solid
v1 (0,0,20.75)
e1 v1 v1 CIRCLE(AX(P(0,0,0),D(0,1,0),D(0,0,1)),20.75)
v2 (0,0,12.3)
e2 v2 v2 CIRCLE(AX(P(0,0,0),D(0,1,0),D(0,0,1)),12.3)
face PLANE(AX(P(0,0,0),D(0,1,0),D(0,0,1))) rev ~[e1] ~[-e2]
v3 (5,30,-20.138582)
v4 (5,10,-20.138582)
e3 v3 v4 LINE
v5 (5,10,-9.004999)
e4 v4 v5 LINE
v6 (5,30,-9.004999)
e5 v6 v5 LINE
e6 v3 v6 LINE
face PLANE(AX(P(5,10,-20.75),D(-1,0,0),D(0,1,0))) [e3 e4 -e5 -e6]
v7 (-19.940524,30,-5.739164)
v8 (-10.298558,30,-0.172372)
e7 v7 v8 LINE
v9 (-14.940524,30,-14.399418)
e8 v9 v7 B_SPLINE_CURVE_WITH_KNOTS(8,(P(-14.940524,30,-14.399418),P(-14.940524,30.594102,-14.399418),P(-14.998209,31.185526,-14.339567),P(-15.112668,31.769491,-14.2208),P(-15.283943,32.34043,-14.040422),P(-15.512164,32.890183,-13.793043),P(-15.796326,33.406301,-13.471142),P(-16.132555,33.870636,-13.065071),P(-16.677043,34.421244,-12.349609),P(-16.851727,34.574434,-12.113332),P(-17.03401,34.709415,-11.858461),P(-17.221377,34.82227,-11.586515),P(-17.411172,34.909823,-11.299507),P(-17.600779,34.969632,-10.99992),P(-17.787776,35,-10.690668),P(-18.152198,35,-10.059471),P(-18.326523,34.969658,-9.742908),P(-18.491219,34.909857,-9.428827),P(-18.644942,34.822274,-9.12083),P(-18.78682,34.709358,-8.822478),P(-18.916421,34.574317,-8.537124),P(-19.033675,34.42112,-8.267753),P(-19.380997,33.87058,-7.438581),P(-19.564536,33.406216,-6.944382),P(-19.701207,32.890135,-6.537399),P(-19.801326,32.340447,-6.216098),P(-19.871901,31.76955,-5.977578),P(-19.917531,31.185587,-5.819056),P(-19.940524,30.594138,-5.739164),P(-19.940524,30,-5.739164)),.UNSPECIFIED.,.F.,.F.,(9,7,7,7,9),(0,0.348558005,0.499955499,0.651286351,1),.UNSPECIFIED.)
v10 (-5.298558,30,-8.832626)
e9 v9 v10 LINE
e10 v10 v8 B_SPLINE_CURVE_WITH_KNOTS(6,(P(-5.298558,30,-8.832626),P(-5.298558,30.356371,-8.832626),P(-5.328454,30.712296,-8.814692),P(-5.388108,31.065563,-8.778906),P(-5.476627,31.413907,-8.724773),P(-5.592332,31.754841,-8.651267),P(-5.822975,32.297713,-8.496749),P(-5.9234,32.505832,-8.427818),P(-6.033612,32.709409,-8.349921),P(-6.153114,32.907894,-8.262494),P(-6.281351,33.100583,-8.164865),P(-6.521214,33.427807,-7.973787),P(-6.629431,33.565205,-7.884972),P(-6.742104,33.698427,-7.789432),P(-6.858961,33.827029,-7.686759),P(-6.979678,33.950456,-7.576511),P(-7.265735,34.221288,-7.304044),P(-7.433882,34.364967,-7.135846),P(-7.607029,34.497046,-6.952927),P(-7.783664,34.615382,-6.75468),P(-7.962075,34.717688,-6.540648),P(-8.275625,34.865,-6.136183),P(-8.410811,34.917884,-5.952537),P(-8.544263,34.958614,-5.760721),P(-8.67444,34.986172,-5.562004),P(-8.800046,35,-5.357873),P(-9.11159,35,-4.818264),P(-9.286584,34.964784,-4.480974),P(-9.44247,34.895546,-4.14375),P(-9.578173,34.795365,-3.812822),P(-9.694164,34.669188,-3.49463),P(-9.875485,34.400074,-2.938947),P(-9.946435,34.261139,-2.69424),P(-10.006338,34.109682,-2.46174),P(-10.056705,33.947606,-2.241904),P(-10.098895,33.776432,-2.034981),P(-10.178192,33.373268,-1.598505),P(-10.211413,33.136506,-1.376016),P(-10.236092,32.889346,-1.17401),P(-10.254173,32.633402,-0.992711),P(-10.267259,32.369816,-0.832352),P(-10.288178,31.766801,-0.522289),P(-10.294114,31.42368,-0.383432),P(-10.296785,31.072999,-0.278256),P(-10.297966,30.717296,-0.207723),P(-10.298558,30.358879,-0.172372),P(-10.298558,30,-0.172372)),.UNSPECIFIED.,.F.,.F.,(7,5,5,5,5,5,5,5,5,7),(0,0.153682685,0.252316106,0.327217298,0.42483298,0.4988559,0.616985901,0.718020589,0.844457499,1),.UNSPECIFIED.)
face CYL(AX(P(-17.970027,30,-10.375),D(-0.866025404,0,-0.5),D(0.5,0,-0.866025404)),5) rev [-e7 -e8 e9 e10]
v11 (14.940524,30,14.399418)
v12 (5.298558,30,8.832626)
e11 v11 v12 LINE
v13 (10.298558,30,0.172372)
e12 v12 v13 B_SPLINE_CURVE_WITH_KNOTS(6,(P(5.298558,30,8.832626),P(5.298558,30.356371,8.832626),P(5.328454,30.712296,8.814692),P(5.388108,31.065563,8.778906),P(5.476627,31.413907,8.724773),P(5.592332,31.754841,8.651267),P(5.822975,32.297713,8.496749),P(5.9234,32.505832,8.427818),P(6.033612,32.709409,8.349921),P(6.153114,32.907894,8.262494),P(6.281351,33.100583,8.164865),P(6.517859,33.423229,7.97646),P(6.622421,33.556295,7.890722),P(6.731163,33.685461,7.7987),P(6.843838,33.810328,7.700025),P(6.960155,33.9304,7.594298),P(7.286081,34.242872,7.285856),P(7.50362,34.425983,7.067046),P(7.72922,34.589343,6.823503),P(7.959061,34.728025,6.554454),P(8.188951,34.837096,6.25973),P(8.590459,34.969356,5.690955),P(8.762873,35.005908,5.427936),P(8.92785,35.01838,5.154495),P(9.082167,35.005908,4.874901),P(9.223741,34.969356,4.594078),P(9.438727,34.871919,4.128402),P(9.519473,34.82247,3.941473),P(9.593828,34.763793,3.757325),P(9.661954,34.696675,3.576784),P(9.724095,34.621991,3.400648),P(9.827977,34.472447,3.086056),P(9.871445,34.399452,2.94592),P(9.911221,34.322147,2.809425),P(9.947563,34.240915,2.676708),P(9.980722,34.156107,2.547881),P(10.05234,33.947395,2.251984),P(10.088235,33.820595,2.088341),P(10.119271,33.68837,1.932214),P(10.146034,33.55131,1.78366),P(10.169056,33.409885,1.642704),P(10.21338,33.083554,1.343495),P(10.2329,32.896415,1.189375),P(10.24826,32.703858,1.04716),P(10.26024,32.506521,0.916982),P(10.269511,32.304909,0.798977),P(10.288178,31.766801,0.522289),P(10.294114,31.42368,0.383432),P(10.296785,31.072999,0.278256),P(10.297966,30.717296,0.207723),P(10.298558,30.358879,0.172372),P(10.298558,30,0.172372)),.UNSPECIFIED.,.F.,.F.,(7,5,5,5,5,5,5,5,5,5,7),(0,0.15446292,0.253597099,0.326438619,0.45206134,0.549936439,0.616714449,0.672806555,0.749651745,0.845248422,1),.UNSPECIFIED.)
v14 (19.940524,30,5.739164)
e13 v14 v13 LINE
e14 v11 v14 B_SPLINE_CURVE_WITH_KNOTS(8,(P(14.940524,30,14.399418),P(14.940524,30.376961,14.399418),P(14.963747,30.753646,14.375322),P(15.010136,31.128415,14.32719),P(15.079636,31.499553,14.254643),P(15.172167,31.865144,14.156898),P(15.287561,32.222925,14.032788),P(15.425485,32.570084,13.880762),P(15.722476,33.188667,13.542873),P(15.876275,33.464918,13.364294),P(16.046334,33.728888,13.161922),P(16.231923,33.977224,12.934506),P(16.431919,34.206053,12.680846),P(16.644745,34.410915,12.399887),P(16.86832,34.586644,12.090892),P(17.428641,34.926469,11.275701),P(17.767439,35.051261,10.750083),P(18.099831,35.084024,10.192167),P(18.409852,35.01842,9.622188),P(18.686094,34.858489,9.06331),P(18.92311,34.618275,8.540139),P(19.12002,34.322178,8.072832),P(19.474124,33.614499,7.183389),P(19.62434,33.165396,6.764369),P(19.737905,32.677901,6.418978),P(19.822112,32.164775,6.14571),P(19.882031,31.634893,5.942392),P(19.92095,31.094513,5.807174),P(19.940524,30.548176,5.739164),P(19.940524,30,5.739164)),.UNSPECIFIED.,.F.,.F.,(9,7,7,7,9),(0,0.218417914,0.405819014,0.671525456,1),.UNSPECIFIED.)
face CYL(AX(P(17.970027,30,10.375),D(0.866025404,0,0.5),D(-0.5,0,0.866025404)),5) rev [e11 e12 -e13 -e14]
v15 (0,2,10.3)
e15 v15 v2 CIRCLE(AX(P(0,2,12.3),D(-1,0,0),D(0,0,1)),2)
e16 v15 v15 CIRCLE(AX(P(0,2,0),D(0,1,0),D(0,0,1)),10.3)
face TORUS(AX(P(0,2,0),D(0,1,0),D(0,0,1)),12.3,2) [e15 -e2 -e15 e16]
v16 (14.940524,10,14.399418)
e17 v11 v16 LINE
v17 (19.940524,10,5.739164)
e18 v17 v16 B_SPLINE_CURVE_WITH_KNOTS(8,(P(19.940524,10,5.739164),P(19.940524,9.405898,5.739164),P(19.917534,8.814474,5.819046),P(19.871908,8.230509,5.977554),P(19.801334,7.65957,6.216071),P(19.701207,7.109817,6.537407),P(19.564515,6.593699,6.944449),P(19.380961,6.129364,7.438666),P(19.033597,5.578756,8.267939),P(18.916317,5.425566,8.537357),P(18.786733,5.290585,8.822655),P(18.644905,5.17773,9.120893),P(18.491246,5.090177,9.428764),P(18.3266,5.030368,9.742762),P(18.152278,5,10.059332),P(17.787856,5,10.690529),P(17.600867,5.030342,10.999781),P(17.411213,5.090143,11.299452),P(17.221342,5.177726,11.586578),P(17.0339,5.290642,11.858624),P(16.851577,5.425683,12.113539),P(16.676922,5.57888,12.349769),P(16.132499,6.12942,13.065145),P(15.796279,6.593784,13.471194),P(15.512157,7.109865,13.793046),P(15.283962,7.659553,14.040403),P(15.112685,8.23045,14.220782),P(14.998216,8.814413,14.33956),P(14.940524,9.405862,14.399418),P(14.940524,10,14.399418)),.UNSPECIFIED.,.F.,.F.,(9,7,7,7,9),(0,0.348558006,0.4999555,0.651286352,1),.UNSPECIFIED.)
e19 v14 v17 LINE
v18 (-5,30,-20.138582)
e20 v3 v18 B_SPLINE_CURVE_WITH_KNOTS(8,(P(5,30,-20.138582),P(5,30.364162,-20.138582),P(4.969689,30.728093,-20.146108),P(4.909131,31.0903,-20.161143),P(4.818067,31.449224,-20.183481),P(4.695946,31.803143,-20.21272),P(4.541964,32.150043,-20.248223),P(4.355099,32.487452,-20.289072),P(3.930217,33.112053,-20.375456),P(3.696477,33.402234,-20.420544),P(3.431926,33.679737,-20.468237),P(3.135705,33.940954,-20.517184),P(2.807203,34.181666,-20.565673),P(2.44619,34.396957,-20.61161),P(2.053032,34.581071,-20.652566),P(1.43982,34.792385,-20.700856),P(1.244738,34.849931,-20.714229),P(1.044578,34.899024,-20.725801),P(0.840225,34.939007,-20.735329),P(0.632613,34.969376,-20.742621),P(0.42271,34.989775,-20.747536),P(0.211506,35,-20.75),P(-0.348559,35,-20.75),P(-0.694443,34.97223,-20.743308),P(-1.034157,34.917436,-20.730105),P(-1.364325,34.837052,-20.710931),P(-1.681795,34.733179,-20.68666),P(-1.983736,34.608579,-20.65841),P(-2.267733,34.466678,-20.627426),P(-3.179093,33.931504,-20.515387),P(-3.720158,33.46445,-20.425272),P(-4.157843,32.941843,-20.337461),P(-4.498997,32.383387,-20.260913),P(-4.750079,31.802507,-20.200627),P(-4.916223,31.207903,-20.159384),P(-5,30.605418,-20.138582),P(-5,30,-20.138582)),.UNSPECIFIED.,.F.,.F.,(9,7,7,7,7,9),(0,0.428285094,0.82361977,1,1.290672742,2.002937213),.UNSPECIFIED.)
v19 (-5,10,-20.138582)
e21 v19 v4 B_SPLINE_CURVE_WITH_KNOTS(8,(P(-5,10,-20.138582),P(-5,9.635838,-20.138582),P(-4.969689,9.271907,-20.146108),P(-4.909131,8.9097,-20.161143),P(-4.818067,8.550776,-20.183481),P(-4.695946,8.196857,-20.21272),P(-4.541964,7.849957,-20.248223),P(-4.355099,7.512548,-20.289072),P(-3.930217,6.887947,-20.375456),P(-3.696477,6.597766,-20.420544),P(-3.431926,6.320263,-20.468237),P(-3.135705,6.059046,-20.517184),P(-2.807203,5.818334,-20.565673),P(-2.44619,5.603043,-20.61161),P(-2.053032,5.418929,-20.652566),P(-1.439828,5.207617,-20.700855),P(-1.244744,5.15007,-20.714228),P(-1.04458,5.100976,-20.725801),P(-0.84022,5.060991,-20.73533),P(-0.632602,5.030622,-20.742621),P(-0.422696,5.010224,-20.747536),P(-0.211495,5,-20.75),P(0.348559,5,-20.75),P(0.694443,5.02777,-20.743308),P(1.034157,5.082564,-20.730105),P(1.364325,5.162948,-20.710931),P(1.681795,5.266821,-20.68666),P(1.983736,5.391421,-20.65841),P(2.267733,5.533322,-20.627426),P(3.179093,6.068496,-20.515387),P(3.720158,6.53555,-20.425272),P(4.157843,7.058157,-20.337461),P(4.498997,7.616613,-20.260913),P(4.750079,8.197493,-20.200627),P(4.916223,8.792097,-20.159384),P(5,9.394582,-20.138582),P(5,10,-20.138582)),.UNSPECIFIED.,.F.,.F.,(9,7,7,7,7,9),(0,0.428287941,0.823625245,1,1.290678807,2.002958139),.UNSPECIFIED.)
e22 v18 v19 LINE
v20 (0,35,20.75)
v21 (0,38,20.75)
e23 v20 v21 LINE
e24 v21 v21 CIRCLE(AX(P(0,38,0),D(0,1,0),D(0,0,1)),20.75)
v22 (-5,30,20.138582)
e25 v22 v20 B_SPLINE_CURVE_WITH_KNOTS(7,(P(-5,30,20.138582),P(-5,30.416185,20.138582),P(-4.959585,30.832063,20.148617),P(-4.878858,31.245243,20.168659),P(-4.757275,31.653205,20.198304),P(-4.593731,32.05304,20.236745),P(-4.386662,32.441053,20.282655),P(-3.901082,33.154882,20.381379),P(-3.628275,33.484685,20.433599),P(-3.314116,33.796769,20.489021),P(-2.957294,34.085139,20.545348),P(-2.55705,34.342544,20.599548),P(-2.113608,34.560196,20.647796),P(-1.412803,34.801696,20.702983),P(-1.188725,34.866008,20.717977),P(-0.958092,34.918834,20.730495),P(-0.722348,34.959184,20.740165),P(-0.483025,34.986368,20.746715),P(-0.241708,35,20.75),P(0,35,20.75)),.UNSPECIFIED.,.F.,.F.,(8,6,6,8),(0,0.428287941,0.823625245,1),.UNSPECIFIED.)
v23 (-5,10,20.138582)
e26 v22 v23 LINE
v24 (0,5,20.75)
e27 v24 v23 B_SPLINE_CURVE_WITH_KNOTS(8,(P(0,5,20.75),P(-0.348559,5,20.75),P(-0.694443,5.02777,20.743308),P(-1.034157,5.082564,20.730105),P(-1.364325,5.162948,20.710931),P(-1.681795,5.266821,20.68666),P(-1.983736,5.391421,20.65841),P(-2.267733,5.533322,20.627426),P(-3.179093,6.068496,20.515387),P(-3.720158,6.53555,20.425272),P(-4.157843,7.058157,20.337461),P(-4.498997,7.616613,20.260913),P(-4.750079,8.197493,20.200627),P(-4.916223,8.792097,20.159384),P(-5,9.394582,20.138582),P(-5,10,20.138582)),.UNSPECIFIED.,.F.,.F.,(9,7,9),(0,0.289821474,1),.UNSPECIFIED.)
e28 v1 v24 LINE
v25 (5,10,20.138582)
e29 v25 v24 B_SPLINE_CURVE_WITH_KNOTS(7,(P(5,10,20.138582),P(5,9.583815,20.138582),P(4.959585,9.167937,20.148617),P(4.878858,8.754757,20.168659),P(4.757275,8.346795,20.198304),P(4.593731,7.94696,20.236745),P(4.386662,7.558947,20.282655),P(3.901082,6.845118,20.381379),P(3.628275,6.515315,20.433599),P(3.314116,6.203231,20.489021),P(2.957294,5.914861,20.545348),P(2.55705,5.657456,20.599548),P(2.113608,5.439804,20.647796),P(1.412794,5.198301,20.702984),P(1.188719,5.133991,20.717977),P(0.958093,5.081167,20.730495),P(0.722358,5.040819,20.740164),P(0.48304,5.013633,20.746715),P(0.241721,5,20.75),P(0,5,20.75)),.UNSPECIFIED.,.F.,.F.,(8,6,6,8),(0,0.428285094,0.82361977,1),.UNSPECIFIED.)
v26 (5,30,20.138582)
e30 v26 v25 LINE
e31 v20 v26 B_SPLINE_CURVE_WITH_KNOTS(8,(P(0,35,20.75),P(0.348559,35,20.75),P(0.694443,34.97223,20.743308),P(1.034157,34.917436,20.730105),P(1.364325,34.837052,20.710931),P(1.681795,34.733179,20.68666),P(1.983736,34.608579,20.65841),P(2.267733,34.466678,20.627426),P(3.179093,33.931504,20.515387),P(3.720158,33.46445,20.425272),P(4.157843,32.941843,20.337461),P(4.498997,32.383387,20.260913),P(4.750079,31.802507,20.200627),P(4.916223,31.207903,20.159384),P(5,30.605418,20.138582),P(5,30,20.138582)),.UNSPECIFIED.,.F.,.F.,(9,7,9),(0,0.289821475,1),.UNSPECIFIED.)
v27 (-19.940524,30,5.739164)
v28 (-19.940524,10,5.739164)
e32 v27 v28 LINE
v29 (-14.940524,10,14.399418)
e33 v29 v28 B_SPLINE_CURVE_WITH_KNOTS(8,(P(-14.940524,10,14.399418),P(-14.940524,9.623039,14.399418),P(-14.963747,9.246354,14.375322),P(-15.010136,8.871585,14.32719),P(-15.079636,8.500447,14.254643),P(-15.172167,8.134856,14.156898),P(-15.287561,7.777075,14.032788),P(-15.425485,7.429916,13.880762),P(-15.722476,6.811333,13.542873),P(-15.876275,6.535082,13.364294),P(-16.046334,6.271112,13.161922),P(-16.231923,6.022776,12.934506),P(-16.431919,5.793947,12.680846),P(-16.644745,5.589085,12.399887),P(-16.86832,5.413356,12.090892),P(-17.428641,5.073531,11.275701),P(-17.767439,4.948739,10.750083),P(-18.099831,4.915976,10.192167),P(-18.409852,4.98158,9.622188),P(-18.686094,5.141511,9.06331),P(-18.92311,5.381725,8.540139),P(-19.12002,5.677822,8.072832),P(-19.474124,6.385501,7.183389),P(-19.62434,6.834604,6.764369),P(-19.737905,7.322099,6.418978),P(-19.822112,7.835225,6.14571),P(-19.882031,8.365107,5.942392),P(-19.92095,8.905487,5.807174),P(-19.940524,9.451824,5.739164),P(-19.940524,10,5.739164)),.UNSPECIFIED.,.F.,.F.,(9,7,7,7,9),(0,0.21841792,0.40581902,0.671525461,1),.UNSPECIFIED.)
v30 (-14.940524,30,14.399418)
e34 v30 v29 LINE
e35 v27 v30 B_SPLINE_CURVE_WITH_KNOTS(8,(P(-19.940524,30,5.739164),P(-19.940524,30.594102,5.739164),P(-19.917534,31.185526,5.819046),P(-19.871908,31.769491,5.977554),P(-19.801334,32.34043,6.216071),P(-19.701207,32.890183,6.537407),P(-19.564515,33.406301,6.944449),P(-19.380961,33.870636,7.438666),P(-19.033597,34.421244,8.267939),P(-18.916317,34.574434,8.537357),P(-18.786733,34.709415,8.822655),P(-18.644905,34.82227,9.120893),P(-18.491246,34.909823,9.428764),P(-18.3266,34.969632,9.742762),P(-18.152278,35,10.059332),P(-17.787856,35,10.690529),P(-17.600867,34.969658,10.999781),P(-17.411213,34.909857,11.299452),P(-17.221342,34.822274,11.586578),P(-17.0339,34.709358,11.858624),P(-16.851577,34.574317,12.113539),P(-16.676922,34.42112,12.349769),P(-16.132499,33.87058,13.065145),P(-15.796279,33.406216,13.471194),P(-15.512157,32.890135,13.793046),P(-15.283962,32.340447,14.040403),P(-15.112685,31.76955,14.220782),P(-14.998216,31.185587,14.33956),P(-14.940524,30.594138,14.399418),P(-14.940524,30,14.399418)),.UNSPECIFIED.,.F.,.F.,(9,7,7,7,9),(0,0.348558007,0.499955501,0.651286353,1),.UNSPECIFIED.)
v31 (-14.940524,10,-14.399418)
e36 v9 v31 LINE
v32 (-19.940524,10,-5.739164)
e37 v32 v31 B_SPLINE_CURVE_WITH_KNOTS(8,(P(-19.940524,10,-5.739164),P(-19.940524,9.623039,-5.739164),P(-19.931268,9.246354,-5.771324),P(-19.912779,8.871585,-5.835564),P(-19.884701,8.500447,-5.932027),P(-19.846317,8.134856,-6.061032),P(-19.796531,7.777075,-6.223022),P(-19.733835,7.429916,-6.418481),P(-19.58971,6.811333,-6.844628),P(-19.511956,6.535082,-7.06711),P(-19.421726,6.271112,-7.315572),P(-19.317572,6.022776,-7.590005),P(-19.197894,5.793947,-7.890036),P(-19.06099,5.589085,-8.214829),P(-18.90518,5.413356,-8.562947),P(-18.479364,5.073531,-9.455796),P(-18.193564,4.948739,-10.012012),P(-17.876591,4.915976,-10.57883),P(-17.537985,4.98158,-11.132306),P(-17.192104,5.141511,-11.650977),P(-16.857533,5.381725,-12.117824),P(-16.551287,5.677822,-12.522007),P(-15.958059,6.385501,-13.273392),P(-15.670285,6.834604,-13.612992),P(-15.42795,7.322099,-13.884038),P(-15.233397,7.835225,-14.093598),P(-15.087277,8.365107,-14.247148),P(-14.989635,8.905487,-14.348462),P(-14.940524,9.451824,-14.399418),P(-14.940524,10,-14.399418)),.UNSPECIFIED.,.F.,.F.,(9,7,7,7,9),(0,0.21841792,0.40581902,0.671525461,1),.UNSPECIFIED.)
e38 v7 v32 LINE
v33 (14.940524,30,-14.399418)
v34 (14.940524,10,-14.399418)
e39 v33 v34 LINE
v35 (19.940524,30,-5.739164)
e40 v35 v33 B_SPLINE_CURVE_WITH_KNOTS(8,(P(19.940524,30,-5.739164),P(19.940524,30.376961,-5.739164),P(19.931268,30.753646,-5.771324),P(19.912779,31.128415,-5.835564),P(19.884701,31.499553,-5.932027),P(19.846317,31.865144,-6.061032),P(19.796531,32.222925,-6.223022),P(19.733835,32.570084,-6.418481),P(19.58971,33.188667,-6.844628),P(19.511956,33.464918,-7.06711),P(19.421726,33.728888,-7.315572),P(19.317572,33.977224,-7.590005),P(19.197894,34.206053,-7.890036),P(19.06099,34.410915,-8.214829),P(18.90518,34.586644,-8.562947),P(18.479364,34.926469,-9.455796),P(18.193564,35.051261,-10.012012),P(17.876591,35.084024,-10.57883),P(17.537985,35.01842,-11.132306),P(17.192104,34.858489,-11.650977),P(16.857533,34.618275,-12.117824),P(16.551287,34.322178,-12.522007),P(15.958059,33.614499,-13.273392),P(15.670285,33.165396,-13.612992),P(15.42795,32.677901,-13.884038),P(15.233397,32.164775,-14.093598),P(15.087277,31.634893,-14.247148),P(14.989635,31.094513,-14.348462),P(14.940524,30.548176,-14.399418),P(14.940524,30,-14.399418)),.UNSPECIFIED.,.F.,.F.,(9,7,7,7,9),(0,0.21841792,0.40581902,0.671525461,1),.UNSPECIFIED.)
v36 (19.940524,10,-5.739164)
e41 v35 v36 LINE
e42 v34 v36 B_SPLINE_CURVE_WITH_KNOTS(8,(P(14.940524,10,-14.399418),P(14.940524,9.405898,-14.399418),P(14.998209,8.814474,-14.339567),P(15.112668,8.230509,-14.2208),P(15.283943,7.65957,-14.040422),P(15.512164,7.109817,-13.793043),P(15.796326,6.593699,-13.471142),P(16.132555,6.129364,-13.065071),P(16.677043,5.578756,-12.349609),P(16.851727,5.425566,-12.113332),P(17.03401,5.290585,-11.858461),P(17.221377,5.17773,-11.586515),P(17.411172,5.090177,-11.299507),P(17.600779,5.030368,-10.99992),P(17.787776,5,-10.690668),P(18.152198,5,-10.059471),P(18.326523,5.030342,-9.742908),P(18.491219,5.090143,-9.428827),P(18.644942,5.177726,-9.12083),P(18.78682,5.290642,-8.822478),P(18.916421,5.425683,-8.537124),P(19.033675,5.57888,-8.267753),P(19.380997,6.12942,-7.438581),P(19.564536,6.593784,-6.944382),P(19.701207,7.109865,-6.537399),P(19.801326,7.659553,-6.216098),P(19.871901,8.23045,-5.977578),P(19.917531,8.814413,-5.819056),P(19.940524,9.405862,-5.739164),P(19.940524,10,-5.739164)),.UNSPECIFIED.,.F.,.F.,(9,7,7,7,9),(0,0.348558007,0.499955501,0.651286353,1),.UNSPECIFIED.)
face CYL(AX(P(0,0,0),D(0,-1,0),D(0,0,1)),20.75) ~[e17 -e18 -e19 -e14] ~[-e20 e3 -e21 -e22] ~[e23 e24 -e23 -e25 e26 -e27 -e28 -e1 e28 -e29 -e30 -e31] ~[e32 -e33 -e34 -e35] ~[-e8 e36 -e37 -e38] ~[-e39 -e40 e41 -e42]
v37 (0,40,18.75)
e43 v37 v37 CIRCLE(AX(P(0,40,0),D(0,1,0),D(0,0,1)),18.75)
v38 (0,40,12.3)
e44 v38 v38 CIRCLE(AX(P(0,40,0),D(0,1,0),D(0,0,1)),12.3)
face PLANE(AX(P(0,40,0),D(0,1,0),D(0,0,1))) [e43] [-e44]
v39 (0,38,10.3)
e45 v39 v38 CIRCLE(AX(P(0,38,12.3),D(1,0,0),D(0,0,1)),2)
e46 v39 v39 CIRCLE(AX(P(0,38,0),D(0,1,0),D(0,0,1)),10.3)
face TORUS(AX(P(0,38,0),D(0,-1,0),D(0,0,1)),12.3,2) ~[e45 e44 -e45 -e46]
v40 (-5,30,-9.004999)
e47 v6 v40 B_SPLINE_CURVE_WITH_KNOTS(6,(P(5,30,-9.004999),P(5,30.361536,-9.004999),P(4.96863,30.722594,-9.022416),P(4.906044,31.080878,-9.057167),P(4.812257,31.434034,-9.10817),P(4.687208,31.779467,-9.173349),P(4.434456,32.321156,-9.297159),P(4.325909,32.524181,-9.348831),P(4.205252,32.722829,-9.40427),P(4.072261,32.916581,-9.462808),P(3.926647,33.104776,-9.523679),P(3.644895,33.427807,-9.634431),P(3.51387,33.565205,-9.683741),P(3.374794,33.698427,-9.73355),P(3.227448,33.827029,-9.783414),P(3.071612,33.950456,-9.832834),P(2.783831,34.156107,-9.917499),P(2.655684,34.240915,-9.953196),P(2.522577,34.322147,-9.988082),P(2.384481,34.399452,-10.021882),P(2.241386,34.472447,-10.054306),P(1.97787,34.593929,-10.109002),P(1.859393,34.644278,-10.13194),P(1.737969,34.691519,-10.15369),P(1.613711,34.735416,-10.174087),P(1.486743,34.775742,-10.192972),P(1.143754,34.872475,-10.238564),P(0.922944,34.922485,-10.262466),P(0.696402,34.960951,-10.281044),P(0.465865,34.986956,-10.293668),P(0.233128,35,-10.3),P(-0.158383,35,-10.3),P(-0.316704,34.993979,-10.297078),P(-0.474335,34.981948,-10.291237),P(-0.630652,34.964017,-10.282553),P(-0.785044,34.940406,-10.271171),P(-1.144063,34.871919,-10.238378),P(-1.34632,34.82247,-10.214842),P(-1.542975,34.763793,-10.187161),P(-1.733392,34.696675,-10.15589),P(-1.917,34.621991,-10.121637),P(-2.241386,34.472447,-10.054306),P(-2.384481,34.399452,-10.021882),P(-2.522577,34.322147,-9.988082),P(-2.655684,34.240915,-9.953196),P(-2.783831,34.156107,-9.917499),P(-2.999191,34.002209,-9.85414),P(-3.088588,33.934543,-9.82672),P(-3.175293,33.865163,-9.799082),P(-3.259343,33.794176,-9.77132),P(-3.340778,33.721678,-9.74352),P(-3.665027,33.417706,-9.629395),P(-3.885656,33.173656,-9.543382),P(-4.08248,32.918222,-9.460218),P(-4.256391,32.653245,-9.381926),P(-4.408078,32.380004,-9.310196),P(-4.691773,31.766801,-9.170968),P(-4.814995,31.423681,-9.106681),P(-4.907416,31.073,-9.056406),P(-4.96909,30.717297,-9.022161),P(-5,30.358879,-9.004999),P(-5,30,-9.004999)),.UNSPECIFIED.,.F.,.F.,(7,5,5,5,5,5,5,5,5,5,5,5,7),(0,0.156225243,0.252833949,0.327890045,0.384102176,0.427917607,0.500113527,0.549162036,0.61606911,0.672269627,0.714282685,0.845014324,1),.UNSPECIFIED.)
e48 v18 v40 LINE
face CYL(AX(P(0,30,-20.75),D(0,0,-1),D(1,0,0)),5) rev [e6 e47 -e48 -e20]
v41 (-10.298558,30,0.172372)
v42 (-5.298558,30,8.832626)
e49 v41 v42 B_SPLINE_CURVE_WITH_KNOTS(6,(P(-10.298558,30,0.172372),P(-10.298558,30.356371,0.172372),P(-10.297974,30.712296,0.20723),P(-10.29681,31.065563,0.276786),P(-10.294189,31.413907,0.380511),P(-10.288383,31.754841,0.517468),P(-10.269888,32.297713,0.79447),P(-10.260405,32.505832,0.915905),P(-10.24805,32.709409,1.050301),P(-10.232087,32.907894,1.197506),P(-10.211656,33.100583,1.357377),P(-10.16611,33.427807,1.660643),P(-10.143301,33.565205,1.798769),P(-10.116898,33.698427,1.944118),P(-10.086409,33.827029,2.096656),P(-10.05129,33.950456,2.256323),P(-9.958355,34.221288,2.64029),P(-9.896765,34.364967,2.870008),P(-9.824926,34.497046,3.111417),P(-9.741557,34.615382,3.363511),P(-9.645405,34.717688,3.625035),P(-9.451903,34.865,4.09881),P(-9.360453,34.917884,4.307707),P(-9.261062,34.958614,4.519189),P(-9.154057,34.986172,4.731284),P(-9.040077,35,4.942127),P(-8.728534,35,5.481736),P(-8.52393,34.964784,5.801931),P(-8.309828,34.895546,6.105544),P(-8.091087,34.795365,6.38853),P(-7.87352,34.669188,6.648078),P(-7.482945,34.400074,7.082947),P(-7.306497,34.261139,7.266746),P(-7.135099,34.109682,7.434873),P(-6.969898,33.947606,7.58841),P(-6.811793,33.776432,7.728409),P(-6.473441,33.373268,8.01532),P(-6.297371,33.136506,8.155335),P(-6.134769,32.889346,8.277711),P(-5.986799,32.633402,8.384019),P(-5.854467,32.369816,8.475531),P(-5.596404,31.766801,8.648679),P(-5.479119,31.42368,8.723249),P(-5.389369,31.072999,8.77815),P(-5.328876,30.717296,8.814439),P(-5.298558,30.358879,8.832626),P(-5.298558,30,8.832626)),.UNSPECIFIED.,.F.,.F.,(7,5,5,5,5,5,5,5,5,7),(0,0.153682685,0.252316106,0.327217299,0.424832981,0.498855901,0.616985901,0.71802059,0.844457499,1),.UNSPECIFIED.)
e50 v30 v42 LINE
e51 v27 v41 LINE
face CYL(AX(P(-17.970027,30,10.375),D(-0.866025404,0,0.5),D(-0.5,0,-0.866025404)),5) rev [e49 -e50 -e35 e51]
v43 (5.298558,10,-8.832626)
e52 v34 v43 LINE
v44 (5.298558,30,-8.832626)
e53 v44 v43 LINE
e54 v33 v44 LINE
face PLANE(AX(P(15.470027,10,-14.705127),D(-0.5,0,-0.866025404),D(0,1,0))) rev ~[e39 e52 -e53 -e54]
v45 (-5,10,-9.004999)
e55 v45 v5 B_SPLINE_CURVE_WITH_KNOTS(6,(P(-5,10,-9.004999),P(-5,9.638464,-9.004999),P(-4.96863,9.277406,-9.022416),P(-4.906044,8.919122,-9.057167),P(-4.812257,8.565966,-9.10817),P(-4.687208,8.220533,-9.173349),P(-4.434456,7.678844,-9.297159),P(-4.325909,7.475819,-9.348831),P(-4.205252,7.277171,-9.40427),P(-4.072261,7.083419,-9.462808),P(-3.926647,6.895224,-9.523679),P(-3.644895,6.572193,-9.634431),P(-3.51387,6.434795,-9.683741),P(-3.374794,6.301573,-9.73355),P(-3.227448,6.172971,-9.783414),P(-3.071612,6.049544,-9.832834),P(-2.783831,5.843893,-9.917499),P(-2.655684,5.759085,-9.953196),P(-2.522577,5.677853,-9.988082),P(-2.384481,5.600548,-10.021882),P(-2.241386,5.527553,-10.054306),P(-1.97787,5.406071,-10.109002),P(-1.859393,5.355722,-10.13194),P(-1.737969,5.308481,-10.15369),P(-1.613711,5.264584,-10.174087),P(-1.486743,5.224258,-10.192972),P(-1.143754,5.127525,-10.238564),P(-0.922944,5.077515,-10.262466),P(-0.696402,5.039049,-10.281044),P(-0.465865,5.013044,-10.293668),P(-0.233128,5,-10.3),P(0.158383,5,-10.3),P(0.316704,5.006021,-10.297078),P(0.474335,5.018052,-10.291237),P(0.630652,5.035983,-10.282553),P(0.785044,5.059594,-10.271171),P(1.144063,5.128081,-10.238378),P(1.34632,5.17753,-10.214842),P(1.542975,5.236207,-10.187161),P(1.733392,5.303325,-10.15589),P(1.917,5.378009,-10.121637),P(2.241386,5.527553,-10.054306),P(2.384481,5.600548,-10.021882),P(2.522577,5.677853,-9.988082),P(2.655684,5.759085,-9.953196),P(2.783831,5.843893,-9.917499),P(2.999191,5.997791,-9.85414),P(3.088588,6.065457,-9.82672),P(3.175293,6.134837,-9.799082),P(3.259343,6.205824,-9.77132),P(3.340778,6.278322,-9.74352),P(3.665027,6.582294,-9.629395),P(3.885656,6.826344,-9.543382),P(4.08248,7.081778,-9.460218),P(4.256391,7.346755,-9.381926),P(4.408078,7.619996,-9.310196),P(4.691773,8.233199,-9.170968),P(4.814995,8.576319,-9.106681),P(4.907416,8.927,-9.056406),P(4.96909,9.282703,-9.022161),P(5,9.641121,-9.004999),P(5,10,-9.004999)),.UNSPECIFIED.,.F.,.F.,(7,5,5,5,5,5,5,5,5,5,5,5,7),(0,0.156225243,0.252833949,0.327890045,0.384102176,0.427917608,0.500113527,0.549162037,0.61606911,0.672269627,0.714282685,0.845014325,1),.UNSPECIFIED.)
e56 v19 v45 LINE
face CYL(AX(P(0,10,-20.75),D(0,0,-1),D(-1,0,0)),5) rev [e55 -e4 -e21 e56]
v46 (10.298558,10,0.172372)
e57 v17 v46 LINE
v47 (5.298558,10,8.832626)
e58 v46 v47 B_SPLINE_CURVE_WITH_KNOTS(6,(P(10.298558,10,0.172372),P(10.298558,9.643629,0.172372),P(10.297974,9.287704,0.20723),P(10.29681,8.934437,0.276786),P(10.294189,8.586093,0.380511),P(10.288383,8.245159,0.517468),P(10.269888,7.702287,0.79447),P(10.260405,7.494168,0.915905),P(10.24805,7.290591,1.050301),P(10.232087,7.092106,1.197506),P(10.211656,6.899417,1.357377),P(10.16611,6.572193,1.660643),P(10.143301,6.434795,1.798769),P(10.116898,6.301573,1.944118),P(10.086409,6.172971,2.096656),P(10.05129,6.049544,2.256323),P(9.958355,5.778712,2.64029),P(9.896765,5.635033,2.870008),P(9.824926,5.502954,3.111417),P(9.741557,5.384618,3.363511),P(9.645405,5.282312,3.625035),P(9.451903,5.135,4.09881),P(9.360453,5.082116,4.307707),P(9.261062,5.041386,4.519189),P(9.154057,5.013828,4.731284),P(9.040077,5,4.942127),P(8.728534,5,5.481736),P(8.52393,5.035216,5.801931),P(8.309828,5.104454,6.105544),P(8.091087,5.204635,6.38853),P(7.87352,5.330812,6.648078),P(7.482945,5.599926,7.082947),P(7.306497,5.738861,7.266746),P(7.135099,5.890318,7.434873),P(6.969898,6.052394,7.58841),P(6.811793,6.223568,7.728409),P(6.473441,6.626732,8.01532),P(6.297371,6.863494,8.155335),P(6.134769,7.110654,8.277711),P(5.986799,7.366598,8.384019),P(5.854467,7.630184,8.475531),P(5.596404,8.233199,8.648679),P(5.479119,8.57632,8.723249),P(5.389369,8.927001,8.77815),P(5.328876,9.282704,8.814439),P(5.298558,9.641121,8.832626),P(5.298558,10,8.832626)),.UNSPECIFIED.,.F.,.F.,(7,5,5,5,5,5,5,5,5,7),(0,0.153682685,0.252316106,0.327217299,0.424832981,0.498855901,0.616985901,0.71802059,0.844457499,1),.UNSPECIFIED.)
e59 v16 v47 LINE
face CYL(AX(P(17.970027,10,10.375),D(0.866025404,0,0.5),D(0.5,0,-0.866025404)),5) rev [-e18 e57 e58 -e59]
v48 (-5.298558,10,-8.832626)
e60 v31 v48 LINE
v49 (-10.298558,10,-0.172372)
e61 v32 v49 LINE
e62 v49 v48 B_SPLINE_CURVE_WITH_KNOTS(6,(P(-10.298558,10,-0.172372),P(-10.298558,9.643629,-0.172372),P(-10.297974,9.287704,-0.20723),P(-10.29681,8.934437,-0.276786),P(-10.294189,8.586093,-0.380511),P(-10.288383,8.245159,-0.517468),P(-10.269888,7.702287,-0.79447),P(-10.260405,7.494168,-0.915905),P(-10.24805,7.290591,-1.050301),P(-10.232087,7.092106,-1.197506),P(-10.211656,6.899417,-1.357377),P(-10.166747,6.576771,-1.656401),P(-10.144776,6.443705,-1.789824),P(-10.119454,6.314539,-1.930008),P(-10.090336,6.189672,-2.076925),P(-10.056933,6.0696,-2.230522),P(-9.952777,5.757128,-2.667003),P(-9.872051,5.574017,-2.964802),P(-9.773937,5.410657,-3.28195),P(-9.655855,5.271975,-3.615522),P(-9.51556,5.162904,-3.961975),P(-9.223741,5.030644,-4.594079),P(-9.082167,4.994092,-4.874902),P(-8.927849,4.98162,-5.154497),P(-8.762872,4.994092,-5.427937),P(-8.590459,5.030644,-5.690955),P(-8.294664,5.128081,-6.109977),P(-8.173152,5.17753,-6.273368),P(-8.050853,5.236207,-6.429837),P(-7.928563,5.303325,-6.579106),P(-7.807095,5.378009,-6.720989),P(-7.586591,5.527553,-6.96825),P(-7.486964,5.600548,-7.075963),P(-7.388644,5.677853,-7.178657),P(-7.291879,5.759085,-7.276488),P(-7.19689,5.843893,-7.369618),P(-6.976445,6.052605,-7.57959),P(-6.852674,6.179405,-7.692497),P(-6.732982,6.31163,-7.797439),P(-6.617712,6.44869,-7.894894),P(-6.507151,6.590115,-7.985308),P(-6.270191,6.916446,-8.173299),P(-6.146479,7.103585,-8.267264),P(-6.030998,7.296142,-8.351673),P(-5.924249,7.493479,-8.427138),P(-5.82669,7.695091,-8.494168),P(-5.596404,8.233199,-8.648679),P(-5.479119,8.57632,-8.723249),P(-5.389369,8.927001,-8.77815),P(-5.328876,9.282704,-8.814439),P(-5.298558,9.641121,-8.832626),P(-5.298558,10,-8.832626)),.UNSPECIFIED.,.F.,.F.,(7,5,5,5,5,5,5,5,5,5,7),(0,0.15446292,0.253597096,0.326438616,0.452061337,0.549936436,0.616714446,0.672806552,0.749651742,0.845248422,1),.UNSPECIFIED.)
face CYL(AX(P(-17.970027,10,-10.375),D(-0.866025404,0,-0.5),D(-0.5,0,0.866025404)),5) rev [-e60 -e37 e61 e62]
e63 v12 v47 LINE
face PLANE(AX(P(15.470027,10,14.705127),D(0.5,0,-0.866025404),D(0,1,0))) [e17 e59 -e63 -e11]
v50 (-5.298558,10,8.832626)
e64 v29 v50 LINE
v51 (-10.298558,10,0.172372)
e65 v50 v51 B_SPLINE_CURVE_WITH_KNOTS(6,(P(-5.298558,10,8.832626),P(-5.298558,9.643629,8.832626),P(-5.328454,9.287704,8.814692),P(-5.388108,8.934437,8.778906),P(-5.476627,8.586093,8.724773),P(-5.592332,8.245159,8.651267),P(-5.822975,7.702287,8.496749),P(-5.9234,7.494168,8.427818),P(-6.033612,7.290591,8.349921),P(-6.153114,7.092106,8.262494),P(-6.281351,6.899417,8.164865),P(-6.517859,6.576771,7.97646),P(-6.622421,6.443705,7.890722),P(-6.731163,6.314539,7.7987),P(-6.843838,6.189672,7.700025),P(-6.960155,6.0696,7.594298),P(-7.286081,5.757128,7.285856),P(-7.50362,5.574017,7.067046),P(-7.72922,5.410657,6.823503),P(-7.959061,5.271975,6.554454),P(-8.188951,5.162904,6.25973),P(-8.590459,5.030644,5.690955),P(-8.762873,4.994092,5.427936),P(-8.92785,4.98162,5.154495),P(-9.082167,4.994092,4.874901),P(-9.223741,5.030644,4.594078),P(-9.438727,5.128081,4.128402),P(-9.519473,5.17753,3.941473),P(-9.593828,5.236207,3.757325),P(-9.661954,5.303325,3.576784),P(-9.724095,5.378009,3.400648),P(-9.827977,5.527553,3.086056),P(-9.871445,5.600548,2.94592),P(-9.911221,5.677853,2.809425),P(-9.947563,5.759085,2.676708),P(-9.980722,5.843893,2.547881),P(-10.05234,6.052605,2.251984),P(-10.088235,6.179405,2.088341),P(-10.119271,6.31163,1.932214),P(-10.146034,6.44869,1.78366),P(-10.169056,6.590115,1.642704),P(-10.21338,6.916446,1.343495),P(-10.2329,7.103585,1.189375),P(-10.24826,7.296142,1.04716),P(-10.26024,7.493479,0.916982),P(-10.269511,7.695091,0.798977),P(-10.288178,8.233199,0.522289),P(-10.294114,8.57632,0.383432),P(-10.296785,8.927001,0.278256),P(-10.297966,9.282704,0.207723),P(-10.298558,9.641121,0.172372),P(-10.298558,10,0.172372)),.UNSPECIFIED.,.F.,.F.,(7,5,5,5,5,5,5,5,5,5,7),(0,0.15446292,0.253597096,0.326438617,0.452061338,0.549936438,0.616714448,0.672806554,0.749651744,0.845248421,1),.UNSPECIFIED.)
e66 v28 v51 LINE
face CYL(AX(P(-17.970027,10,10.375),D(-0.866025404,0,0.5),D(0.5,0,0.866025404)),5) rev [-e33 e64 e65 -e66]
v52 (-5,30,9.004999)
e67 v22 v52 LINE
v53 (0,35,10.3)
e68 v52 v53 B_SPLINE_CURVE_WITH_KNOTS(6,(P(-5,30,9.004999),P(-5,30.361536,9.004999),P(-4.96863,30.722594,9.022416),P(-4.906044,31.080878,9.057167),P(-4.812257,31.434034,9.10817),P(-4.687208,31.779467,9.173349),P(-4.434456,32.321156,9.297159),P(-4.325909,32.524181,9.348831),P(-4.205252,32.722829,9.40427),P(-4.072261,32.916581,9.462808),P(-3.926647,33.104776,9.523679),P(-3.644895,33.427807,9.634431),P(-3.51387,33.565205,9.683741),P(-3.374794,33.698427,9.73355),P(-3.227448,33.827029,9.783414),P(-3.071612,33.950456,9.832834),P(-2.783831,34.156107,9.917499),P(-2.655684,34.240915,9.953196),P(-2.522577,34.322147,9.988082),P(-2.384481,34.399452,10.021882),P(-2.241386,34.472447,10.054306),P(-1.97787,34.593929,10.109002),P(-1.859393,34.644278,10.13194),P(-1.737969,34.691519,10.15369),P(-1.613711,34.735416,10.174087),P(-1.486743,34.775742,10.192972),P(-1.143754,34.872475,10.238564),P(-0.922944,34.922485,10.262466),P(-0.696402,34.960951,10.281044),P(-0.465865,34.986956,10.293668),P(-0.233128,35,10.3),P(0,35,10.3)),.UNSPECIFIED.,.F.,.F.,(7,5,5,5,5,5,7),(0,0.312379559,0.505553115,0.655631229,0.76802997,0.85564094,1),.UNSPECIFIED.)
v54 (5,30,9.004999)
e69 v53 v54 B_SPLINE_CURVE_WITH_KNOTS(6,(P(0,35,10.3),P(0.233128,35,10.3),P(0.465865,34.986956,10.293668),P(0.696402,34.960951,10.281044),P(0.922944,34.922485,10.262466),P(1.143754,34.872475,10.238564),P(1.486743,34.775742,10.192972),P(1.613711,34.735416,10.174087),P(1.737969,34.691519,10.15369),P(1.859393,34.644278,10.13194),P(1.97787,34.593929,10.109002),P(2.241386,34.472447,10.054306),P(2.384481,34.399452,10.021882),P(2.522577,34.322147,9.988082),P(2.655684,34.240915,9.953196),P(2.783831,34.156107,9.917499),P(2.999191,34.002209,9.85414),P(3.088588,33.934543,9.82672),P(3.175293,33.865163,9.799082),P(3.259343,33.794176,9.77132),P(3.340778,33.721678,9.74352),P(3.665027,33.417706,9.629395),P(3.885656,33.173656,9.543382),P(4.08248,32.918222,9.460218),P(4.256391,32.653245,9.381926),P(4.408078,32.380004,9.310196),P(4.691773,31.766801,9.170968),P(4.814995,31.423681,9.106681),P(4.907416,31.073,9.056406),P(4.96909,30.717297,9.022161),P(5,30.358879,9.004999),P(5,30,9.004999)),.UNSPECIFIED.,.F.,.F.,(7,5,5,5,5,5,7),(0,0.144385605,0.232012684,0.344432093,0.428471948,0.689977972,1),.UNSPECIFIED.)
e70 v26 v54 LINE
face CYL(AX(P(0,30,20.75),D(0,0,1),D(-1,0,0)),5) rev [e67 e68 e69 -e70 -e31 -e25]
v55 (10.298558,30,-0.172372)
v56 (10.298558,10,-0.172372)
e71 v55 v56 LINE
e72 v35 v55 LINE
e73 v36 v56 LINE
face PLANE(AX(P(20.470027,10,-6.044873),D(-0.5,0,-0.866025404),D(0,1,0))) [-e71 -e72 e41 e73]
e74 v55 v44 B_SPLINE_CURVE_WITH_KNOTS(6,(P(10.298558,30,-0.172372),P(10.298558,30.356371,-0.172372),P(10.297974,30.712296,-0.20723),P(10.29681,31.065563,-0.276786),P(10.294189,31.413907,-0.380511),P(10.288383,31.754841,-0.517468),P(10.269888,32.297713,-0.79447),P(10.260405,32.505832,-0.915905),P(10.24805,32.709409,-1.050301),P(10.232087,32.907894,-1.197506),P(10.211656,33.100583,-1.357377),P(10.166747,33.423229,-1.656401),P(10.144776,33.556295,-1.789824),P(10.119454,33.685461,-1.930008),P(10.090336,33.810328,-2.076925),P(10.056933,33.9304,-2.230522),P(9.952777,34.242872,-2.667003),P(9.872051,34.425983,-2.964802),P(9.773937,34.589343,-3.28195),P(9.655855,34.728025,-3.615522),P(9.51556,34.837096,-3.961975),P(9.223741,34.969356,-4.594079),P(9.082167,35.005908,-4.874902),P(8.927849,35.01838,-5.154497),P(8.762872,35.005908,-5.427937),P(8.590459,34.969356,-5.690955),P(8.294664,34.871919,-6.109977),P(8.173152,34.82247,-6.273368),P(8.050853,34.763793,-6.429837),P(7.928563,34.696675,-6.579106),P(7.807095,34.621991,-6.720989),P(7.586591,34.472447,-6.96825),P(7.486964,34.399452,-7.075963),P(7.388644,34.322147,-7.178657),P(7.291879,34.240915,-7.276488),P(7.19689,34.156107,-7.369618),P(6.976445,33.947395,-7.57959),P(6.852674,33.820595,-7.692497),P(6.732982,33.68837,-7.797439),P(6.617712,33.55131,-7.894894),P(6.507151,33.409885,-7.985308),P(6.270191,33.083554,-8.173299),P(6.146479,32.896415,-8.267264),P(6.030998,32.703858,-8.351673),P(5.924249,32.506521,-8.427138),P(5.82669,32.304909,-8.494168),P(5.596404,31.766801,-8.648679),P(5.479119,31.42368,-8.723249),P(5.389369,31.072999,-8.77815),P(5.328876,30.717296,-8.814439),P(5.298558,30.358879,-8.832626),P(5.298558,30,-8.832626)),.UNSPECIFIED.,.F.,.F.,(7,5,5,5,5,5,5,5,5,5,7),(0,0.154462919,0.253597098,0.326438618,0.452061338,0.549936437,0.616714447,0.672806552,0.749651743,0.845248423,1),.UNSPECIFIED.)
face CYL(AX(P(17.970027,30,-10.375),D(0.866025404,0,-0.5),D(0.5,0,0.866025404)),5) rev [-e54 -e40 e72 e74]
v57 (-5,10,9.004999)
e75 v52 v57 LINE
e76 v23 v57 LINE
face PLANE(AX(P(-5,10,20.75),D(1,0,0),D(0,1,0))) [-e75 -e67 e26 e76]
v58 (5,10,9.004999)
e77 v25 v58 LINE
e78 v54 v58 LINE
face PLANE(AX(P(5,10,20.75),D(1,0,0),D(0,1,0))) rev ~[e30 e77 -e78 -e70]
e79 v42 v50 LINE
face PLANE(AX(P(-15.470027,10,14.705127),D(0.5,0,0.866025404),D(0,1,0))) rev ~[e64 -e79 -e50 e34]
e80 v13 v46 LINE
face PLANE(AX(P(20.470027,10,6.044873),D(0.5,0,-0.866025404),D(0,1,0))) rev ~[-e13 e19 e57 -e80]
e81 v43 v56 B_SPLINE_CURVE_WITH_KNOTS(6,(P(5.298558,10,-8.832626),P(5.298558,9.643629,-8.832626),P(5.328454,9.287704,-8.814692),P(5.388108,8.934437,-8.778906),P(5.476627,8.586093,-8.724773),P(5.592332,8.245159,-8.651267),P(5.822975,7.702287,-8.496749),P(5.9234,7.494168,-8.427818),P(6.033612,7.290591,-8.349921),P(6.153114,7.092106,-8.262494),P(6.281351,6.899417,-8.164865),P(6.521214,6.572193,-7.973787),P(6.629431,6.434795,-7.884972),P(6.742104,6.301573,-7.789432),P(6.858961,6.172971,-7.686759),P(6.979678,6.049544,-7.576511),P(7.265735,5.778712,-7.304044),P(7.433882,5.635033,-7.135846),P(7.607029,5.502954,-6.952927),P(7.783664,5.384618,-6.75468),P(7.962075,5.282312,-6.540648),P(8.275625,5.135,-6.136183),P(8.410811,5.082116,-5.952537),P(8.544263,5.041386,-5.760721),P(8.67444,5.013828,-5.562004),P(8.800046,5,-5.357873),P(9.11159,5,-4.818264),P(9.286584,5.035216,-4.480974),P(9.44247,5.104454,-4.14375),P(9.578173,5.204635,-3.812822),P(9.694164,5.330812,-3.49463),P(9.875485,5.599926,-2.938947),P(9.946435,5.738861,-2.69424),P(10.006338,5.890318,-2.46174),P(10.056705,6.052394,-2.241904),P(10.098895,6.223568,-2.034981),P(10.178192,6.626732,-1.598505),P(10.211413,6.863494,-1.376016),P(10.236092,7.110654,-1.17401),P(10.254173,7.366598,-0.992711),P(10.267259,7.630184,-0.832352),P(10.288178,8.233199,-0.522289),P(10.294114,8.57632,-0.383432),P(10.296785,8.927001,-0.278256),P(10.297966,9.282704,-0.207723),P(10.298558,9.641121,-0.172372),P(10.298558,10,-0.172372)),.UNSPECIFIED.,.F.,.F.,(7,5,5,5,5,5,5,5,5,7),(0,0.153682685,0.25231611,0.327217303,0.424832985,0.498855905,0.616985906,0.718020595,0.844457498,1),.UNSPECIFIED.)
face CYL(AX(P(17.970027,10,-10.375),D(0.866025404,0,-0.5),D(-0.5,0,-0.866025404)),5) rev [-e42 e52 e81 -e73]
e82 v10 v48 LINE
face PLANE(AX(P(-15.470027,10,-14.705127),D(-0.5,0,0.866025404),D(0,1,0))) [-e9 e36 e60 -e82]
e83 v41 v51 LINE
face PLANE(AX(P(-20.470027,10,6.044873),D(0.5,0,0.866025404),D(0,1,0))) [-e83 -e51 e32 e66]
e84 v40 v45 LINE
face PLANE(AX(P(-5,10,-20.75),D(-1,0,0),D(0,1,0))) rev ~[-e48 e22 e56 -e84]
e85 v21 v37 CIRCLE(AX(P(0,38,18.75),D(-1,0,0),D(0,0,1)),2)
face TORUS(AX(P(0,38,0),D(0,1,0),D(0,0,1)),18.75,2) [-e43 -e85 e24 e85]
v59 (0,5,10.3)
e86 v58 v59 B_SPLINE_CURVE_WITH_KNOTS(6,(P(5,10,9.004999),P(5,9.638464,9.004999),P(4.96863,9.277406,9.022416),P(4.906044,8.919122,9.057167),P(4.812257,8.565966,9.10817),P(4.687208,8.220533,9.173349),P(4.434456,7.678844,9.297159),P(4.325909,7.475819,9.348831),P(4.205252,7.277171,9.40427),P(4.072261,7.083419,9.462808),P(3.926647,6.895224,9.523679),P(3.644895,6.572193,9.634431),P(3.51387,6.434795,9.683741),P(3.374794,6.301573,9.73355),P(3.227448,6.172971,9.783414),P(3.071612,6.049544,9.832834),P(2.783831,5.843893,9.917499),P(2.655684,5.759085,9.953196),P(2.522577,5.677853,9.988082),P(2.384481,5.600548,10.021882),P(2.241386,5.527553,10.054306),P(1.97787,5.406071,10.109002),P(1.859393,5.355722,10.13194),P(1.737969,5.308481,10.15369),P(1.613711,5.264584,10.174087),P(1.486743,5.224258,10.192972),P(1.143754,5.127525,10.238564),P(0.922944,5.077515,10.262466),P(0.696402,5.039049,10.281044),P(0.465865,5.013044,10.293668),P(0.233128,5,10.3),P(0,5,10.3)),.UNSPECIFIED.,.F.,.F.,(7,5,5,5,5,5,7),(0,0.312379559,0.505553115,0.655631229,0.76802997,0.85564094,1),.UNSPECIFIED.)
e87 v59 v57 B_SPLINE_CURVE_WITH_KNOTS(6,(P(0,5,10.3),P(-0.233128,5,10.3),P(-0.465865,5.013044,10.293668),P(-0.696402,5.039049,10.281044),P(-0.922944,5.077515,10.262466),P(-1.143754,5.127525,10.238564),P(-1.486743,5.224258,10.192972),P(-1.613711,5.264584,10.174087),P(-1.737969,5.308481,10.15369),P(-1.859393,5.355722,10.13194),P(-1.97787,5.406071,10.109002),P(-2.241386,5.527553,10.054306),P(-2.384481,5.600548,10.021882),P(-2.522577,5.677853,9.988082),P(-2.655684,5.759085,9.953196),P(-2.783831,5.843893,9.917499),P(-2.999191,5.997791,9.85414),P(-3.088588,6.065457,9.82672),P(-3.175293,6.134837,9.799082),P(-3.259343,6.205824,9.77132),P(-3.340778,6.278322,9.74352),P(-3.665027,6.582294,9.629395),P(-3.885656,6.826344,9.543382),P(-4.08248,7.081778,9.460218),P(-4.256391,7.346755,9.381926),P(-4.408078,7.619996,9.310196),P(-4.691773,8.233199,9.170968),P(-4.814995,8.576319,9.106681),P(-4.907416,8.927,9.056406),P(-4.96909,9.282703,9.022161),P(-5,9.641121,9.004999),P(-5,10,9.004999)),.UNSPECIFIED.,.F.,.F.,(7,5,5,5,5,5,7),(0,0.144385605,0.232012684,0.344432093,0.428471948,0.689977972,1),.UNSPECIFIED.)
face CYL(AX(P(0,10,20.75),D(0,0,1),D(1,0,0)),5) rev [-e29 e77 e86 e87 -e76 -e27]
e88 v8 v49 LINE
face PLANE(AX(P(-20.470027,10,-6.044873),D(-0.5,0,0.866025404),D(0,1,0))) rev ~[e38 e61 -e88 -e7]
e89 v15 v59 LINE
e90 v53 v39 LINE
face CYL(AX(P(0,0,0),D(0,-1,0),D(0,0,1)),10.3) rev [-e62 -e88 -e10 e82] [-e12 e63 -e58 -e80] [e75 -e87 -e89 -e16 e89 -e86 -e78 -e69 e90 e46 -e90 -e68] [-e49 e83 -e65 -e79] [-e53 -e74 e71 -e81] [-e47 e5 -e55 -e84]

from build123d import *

# Parameters (mm, degrees)
SKETCH1_R           = 20.75
SKETCH1_R_2         = 10.3
BOSS_EXTRUDE1_DEPTH = 40
SKETCH2_W           = 10
SKETCH2_H           = 20
CUT_EXTRUDE1_DEPTH  = 20
CIRPATTERN1_COUNT   = 6
FILLET1_R           = 2


with BuildPart() as part:
    # Sketch1 → Boss-Extrude1 (new body)
    with BuildSketch(Plane(origin=(0, 0, 0), x_dir=(1, 0, 0), z_dir=(0, 1, 0))):
        with Locations(Location((0, 0, 0), (0, 0, 270))):
            Circle(SKETCH1_R)
        with Locations(Location((0, 0, 0), (0, 0, 270))):
            Circle(SKETCH1_R_2, mode=Mode.SUBTRACT)
    extrude(amount=BOSS_EXTRUDE1_DEPTH)

    # Sketch2 → Cut-Extrude1 (cut)
    with BuildSketch(Plane.XY.offset(20.75)):
        with BuildLine():
            Line((-5, 10), (5, 10))
            ThreePointArc((5, 10), (0, 5), (-5, 10))
        make_face()
        with Locations((0, 20)):
            Rectangle(SKETCH2_W, SKETCH2_H)
        with BuildLine():
            ThreePointArc((-5, 30), (0, 35), (5, 30))
            Line((5, 30), (-5, 30))
        make_face()
    cut_extrude1 = extrude(amount=-CUT_EXTRUDE1_DEPTH, mode=Mode.SUBTRACT)

    # CirPattern1: Cut-Extrude1 ×6 about axis
    cirpattern1_axis = Axis((0, 0, 0), (0, 1, 0))
    for i in range(1, CIRPATTERN1_COUNT):
        add(cut_extrude1.rotate(cirpattern1_axis, i * 360 / CIRPATTERN1_COUNT), mode=Mode.SUBTRACT)

    # Fillet1
    fillet1_edges = [part.edges().sort_by_distance(p)[0] for p in [
        (0, 40, -20.75),
        (0, 0, -10.3),
        (0, 40, -10.3),
    ]]
    fillet(fillet1_edges, radius=FILLET1_R)


solid = part.part
